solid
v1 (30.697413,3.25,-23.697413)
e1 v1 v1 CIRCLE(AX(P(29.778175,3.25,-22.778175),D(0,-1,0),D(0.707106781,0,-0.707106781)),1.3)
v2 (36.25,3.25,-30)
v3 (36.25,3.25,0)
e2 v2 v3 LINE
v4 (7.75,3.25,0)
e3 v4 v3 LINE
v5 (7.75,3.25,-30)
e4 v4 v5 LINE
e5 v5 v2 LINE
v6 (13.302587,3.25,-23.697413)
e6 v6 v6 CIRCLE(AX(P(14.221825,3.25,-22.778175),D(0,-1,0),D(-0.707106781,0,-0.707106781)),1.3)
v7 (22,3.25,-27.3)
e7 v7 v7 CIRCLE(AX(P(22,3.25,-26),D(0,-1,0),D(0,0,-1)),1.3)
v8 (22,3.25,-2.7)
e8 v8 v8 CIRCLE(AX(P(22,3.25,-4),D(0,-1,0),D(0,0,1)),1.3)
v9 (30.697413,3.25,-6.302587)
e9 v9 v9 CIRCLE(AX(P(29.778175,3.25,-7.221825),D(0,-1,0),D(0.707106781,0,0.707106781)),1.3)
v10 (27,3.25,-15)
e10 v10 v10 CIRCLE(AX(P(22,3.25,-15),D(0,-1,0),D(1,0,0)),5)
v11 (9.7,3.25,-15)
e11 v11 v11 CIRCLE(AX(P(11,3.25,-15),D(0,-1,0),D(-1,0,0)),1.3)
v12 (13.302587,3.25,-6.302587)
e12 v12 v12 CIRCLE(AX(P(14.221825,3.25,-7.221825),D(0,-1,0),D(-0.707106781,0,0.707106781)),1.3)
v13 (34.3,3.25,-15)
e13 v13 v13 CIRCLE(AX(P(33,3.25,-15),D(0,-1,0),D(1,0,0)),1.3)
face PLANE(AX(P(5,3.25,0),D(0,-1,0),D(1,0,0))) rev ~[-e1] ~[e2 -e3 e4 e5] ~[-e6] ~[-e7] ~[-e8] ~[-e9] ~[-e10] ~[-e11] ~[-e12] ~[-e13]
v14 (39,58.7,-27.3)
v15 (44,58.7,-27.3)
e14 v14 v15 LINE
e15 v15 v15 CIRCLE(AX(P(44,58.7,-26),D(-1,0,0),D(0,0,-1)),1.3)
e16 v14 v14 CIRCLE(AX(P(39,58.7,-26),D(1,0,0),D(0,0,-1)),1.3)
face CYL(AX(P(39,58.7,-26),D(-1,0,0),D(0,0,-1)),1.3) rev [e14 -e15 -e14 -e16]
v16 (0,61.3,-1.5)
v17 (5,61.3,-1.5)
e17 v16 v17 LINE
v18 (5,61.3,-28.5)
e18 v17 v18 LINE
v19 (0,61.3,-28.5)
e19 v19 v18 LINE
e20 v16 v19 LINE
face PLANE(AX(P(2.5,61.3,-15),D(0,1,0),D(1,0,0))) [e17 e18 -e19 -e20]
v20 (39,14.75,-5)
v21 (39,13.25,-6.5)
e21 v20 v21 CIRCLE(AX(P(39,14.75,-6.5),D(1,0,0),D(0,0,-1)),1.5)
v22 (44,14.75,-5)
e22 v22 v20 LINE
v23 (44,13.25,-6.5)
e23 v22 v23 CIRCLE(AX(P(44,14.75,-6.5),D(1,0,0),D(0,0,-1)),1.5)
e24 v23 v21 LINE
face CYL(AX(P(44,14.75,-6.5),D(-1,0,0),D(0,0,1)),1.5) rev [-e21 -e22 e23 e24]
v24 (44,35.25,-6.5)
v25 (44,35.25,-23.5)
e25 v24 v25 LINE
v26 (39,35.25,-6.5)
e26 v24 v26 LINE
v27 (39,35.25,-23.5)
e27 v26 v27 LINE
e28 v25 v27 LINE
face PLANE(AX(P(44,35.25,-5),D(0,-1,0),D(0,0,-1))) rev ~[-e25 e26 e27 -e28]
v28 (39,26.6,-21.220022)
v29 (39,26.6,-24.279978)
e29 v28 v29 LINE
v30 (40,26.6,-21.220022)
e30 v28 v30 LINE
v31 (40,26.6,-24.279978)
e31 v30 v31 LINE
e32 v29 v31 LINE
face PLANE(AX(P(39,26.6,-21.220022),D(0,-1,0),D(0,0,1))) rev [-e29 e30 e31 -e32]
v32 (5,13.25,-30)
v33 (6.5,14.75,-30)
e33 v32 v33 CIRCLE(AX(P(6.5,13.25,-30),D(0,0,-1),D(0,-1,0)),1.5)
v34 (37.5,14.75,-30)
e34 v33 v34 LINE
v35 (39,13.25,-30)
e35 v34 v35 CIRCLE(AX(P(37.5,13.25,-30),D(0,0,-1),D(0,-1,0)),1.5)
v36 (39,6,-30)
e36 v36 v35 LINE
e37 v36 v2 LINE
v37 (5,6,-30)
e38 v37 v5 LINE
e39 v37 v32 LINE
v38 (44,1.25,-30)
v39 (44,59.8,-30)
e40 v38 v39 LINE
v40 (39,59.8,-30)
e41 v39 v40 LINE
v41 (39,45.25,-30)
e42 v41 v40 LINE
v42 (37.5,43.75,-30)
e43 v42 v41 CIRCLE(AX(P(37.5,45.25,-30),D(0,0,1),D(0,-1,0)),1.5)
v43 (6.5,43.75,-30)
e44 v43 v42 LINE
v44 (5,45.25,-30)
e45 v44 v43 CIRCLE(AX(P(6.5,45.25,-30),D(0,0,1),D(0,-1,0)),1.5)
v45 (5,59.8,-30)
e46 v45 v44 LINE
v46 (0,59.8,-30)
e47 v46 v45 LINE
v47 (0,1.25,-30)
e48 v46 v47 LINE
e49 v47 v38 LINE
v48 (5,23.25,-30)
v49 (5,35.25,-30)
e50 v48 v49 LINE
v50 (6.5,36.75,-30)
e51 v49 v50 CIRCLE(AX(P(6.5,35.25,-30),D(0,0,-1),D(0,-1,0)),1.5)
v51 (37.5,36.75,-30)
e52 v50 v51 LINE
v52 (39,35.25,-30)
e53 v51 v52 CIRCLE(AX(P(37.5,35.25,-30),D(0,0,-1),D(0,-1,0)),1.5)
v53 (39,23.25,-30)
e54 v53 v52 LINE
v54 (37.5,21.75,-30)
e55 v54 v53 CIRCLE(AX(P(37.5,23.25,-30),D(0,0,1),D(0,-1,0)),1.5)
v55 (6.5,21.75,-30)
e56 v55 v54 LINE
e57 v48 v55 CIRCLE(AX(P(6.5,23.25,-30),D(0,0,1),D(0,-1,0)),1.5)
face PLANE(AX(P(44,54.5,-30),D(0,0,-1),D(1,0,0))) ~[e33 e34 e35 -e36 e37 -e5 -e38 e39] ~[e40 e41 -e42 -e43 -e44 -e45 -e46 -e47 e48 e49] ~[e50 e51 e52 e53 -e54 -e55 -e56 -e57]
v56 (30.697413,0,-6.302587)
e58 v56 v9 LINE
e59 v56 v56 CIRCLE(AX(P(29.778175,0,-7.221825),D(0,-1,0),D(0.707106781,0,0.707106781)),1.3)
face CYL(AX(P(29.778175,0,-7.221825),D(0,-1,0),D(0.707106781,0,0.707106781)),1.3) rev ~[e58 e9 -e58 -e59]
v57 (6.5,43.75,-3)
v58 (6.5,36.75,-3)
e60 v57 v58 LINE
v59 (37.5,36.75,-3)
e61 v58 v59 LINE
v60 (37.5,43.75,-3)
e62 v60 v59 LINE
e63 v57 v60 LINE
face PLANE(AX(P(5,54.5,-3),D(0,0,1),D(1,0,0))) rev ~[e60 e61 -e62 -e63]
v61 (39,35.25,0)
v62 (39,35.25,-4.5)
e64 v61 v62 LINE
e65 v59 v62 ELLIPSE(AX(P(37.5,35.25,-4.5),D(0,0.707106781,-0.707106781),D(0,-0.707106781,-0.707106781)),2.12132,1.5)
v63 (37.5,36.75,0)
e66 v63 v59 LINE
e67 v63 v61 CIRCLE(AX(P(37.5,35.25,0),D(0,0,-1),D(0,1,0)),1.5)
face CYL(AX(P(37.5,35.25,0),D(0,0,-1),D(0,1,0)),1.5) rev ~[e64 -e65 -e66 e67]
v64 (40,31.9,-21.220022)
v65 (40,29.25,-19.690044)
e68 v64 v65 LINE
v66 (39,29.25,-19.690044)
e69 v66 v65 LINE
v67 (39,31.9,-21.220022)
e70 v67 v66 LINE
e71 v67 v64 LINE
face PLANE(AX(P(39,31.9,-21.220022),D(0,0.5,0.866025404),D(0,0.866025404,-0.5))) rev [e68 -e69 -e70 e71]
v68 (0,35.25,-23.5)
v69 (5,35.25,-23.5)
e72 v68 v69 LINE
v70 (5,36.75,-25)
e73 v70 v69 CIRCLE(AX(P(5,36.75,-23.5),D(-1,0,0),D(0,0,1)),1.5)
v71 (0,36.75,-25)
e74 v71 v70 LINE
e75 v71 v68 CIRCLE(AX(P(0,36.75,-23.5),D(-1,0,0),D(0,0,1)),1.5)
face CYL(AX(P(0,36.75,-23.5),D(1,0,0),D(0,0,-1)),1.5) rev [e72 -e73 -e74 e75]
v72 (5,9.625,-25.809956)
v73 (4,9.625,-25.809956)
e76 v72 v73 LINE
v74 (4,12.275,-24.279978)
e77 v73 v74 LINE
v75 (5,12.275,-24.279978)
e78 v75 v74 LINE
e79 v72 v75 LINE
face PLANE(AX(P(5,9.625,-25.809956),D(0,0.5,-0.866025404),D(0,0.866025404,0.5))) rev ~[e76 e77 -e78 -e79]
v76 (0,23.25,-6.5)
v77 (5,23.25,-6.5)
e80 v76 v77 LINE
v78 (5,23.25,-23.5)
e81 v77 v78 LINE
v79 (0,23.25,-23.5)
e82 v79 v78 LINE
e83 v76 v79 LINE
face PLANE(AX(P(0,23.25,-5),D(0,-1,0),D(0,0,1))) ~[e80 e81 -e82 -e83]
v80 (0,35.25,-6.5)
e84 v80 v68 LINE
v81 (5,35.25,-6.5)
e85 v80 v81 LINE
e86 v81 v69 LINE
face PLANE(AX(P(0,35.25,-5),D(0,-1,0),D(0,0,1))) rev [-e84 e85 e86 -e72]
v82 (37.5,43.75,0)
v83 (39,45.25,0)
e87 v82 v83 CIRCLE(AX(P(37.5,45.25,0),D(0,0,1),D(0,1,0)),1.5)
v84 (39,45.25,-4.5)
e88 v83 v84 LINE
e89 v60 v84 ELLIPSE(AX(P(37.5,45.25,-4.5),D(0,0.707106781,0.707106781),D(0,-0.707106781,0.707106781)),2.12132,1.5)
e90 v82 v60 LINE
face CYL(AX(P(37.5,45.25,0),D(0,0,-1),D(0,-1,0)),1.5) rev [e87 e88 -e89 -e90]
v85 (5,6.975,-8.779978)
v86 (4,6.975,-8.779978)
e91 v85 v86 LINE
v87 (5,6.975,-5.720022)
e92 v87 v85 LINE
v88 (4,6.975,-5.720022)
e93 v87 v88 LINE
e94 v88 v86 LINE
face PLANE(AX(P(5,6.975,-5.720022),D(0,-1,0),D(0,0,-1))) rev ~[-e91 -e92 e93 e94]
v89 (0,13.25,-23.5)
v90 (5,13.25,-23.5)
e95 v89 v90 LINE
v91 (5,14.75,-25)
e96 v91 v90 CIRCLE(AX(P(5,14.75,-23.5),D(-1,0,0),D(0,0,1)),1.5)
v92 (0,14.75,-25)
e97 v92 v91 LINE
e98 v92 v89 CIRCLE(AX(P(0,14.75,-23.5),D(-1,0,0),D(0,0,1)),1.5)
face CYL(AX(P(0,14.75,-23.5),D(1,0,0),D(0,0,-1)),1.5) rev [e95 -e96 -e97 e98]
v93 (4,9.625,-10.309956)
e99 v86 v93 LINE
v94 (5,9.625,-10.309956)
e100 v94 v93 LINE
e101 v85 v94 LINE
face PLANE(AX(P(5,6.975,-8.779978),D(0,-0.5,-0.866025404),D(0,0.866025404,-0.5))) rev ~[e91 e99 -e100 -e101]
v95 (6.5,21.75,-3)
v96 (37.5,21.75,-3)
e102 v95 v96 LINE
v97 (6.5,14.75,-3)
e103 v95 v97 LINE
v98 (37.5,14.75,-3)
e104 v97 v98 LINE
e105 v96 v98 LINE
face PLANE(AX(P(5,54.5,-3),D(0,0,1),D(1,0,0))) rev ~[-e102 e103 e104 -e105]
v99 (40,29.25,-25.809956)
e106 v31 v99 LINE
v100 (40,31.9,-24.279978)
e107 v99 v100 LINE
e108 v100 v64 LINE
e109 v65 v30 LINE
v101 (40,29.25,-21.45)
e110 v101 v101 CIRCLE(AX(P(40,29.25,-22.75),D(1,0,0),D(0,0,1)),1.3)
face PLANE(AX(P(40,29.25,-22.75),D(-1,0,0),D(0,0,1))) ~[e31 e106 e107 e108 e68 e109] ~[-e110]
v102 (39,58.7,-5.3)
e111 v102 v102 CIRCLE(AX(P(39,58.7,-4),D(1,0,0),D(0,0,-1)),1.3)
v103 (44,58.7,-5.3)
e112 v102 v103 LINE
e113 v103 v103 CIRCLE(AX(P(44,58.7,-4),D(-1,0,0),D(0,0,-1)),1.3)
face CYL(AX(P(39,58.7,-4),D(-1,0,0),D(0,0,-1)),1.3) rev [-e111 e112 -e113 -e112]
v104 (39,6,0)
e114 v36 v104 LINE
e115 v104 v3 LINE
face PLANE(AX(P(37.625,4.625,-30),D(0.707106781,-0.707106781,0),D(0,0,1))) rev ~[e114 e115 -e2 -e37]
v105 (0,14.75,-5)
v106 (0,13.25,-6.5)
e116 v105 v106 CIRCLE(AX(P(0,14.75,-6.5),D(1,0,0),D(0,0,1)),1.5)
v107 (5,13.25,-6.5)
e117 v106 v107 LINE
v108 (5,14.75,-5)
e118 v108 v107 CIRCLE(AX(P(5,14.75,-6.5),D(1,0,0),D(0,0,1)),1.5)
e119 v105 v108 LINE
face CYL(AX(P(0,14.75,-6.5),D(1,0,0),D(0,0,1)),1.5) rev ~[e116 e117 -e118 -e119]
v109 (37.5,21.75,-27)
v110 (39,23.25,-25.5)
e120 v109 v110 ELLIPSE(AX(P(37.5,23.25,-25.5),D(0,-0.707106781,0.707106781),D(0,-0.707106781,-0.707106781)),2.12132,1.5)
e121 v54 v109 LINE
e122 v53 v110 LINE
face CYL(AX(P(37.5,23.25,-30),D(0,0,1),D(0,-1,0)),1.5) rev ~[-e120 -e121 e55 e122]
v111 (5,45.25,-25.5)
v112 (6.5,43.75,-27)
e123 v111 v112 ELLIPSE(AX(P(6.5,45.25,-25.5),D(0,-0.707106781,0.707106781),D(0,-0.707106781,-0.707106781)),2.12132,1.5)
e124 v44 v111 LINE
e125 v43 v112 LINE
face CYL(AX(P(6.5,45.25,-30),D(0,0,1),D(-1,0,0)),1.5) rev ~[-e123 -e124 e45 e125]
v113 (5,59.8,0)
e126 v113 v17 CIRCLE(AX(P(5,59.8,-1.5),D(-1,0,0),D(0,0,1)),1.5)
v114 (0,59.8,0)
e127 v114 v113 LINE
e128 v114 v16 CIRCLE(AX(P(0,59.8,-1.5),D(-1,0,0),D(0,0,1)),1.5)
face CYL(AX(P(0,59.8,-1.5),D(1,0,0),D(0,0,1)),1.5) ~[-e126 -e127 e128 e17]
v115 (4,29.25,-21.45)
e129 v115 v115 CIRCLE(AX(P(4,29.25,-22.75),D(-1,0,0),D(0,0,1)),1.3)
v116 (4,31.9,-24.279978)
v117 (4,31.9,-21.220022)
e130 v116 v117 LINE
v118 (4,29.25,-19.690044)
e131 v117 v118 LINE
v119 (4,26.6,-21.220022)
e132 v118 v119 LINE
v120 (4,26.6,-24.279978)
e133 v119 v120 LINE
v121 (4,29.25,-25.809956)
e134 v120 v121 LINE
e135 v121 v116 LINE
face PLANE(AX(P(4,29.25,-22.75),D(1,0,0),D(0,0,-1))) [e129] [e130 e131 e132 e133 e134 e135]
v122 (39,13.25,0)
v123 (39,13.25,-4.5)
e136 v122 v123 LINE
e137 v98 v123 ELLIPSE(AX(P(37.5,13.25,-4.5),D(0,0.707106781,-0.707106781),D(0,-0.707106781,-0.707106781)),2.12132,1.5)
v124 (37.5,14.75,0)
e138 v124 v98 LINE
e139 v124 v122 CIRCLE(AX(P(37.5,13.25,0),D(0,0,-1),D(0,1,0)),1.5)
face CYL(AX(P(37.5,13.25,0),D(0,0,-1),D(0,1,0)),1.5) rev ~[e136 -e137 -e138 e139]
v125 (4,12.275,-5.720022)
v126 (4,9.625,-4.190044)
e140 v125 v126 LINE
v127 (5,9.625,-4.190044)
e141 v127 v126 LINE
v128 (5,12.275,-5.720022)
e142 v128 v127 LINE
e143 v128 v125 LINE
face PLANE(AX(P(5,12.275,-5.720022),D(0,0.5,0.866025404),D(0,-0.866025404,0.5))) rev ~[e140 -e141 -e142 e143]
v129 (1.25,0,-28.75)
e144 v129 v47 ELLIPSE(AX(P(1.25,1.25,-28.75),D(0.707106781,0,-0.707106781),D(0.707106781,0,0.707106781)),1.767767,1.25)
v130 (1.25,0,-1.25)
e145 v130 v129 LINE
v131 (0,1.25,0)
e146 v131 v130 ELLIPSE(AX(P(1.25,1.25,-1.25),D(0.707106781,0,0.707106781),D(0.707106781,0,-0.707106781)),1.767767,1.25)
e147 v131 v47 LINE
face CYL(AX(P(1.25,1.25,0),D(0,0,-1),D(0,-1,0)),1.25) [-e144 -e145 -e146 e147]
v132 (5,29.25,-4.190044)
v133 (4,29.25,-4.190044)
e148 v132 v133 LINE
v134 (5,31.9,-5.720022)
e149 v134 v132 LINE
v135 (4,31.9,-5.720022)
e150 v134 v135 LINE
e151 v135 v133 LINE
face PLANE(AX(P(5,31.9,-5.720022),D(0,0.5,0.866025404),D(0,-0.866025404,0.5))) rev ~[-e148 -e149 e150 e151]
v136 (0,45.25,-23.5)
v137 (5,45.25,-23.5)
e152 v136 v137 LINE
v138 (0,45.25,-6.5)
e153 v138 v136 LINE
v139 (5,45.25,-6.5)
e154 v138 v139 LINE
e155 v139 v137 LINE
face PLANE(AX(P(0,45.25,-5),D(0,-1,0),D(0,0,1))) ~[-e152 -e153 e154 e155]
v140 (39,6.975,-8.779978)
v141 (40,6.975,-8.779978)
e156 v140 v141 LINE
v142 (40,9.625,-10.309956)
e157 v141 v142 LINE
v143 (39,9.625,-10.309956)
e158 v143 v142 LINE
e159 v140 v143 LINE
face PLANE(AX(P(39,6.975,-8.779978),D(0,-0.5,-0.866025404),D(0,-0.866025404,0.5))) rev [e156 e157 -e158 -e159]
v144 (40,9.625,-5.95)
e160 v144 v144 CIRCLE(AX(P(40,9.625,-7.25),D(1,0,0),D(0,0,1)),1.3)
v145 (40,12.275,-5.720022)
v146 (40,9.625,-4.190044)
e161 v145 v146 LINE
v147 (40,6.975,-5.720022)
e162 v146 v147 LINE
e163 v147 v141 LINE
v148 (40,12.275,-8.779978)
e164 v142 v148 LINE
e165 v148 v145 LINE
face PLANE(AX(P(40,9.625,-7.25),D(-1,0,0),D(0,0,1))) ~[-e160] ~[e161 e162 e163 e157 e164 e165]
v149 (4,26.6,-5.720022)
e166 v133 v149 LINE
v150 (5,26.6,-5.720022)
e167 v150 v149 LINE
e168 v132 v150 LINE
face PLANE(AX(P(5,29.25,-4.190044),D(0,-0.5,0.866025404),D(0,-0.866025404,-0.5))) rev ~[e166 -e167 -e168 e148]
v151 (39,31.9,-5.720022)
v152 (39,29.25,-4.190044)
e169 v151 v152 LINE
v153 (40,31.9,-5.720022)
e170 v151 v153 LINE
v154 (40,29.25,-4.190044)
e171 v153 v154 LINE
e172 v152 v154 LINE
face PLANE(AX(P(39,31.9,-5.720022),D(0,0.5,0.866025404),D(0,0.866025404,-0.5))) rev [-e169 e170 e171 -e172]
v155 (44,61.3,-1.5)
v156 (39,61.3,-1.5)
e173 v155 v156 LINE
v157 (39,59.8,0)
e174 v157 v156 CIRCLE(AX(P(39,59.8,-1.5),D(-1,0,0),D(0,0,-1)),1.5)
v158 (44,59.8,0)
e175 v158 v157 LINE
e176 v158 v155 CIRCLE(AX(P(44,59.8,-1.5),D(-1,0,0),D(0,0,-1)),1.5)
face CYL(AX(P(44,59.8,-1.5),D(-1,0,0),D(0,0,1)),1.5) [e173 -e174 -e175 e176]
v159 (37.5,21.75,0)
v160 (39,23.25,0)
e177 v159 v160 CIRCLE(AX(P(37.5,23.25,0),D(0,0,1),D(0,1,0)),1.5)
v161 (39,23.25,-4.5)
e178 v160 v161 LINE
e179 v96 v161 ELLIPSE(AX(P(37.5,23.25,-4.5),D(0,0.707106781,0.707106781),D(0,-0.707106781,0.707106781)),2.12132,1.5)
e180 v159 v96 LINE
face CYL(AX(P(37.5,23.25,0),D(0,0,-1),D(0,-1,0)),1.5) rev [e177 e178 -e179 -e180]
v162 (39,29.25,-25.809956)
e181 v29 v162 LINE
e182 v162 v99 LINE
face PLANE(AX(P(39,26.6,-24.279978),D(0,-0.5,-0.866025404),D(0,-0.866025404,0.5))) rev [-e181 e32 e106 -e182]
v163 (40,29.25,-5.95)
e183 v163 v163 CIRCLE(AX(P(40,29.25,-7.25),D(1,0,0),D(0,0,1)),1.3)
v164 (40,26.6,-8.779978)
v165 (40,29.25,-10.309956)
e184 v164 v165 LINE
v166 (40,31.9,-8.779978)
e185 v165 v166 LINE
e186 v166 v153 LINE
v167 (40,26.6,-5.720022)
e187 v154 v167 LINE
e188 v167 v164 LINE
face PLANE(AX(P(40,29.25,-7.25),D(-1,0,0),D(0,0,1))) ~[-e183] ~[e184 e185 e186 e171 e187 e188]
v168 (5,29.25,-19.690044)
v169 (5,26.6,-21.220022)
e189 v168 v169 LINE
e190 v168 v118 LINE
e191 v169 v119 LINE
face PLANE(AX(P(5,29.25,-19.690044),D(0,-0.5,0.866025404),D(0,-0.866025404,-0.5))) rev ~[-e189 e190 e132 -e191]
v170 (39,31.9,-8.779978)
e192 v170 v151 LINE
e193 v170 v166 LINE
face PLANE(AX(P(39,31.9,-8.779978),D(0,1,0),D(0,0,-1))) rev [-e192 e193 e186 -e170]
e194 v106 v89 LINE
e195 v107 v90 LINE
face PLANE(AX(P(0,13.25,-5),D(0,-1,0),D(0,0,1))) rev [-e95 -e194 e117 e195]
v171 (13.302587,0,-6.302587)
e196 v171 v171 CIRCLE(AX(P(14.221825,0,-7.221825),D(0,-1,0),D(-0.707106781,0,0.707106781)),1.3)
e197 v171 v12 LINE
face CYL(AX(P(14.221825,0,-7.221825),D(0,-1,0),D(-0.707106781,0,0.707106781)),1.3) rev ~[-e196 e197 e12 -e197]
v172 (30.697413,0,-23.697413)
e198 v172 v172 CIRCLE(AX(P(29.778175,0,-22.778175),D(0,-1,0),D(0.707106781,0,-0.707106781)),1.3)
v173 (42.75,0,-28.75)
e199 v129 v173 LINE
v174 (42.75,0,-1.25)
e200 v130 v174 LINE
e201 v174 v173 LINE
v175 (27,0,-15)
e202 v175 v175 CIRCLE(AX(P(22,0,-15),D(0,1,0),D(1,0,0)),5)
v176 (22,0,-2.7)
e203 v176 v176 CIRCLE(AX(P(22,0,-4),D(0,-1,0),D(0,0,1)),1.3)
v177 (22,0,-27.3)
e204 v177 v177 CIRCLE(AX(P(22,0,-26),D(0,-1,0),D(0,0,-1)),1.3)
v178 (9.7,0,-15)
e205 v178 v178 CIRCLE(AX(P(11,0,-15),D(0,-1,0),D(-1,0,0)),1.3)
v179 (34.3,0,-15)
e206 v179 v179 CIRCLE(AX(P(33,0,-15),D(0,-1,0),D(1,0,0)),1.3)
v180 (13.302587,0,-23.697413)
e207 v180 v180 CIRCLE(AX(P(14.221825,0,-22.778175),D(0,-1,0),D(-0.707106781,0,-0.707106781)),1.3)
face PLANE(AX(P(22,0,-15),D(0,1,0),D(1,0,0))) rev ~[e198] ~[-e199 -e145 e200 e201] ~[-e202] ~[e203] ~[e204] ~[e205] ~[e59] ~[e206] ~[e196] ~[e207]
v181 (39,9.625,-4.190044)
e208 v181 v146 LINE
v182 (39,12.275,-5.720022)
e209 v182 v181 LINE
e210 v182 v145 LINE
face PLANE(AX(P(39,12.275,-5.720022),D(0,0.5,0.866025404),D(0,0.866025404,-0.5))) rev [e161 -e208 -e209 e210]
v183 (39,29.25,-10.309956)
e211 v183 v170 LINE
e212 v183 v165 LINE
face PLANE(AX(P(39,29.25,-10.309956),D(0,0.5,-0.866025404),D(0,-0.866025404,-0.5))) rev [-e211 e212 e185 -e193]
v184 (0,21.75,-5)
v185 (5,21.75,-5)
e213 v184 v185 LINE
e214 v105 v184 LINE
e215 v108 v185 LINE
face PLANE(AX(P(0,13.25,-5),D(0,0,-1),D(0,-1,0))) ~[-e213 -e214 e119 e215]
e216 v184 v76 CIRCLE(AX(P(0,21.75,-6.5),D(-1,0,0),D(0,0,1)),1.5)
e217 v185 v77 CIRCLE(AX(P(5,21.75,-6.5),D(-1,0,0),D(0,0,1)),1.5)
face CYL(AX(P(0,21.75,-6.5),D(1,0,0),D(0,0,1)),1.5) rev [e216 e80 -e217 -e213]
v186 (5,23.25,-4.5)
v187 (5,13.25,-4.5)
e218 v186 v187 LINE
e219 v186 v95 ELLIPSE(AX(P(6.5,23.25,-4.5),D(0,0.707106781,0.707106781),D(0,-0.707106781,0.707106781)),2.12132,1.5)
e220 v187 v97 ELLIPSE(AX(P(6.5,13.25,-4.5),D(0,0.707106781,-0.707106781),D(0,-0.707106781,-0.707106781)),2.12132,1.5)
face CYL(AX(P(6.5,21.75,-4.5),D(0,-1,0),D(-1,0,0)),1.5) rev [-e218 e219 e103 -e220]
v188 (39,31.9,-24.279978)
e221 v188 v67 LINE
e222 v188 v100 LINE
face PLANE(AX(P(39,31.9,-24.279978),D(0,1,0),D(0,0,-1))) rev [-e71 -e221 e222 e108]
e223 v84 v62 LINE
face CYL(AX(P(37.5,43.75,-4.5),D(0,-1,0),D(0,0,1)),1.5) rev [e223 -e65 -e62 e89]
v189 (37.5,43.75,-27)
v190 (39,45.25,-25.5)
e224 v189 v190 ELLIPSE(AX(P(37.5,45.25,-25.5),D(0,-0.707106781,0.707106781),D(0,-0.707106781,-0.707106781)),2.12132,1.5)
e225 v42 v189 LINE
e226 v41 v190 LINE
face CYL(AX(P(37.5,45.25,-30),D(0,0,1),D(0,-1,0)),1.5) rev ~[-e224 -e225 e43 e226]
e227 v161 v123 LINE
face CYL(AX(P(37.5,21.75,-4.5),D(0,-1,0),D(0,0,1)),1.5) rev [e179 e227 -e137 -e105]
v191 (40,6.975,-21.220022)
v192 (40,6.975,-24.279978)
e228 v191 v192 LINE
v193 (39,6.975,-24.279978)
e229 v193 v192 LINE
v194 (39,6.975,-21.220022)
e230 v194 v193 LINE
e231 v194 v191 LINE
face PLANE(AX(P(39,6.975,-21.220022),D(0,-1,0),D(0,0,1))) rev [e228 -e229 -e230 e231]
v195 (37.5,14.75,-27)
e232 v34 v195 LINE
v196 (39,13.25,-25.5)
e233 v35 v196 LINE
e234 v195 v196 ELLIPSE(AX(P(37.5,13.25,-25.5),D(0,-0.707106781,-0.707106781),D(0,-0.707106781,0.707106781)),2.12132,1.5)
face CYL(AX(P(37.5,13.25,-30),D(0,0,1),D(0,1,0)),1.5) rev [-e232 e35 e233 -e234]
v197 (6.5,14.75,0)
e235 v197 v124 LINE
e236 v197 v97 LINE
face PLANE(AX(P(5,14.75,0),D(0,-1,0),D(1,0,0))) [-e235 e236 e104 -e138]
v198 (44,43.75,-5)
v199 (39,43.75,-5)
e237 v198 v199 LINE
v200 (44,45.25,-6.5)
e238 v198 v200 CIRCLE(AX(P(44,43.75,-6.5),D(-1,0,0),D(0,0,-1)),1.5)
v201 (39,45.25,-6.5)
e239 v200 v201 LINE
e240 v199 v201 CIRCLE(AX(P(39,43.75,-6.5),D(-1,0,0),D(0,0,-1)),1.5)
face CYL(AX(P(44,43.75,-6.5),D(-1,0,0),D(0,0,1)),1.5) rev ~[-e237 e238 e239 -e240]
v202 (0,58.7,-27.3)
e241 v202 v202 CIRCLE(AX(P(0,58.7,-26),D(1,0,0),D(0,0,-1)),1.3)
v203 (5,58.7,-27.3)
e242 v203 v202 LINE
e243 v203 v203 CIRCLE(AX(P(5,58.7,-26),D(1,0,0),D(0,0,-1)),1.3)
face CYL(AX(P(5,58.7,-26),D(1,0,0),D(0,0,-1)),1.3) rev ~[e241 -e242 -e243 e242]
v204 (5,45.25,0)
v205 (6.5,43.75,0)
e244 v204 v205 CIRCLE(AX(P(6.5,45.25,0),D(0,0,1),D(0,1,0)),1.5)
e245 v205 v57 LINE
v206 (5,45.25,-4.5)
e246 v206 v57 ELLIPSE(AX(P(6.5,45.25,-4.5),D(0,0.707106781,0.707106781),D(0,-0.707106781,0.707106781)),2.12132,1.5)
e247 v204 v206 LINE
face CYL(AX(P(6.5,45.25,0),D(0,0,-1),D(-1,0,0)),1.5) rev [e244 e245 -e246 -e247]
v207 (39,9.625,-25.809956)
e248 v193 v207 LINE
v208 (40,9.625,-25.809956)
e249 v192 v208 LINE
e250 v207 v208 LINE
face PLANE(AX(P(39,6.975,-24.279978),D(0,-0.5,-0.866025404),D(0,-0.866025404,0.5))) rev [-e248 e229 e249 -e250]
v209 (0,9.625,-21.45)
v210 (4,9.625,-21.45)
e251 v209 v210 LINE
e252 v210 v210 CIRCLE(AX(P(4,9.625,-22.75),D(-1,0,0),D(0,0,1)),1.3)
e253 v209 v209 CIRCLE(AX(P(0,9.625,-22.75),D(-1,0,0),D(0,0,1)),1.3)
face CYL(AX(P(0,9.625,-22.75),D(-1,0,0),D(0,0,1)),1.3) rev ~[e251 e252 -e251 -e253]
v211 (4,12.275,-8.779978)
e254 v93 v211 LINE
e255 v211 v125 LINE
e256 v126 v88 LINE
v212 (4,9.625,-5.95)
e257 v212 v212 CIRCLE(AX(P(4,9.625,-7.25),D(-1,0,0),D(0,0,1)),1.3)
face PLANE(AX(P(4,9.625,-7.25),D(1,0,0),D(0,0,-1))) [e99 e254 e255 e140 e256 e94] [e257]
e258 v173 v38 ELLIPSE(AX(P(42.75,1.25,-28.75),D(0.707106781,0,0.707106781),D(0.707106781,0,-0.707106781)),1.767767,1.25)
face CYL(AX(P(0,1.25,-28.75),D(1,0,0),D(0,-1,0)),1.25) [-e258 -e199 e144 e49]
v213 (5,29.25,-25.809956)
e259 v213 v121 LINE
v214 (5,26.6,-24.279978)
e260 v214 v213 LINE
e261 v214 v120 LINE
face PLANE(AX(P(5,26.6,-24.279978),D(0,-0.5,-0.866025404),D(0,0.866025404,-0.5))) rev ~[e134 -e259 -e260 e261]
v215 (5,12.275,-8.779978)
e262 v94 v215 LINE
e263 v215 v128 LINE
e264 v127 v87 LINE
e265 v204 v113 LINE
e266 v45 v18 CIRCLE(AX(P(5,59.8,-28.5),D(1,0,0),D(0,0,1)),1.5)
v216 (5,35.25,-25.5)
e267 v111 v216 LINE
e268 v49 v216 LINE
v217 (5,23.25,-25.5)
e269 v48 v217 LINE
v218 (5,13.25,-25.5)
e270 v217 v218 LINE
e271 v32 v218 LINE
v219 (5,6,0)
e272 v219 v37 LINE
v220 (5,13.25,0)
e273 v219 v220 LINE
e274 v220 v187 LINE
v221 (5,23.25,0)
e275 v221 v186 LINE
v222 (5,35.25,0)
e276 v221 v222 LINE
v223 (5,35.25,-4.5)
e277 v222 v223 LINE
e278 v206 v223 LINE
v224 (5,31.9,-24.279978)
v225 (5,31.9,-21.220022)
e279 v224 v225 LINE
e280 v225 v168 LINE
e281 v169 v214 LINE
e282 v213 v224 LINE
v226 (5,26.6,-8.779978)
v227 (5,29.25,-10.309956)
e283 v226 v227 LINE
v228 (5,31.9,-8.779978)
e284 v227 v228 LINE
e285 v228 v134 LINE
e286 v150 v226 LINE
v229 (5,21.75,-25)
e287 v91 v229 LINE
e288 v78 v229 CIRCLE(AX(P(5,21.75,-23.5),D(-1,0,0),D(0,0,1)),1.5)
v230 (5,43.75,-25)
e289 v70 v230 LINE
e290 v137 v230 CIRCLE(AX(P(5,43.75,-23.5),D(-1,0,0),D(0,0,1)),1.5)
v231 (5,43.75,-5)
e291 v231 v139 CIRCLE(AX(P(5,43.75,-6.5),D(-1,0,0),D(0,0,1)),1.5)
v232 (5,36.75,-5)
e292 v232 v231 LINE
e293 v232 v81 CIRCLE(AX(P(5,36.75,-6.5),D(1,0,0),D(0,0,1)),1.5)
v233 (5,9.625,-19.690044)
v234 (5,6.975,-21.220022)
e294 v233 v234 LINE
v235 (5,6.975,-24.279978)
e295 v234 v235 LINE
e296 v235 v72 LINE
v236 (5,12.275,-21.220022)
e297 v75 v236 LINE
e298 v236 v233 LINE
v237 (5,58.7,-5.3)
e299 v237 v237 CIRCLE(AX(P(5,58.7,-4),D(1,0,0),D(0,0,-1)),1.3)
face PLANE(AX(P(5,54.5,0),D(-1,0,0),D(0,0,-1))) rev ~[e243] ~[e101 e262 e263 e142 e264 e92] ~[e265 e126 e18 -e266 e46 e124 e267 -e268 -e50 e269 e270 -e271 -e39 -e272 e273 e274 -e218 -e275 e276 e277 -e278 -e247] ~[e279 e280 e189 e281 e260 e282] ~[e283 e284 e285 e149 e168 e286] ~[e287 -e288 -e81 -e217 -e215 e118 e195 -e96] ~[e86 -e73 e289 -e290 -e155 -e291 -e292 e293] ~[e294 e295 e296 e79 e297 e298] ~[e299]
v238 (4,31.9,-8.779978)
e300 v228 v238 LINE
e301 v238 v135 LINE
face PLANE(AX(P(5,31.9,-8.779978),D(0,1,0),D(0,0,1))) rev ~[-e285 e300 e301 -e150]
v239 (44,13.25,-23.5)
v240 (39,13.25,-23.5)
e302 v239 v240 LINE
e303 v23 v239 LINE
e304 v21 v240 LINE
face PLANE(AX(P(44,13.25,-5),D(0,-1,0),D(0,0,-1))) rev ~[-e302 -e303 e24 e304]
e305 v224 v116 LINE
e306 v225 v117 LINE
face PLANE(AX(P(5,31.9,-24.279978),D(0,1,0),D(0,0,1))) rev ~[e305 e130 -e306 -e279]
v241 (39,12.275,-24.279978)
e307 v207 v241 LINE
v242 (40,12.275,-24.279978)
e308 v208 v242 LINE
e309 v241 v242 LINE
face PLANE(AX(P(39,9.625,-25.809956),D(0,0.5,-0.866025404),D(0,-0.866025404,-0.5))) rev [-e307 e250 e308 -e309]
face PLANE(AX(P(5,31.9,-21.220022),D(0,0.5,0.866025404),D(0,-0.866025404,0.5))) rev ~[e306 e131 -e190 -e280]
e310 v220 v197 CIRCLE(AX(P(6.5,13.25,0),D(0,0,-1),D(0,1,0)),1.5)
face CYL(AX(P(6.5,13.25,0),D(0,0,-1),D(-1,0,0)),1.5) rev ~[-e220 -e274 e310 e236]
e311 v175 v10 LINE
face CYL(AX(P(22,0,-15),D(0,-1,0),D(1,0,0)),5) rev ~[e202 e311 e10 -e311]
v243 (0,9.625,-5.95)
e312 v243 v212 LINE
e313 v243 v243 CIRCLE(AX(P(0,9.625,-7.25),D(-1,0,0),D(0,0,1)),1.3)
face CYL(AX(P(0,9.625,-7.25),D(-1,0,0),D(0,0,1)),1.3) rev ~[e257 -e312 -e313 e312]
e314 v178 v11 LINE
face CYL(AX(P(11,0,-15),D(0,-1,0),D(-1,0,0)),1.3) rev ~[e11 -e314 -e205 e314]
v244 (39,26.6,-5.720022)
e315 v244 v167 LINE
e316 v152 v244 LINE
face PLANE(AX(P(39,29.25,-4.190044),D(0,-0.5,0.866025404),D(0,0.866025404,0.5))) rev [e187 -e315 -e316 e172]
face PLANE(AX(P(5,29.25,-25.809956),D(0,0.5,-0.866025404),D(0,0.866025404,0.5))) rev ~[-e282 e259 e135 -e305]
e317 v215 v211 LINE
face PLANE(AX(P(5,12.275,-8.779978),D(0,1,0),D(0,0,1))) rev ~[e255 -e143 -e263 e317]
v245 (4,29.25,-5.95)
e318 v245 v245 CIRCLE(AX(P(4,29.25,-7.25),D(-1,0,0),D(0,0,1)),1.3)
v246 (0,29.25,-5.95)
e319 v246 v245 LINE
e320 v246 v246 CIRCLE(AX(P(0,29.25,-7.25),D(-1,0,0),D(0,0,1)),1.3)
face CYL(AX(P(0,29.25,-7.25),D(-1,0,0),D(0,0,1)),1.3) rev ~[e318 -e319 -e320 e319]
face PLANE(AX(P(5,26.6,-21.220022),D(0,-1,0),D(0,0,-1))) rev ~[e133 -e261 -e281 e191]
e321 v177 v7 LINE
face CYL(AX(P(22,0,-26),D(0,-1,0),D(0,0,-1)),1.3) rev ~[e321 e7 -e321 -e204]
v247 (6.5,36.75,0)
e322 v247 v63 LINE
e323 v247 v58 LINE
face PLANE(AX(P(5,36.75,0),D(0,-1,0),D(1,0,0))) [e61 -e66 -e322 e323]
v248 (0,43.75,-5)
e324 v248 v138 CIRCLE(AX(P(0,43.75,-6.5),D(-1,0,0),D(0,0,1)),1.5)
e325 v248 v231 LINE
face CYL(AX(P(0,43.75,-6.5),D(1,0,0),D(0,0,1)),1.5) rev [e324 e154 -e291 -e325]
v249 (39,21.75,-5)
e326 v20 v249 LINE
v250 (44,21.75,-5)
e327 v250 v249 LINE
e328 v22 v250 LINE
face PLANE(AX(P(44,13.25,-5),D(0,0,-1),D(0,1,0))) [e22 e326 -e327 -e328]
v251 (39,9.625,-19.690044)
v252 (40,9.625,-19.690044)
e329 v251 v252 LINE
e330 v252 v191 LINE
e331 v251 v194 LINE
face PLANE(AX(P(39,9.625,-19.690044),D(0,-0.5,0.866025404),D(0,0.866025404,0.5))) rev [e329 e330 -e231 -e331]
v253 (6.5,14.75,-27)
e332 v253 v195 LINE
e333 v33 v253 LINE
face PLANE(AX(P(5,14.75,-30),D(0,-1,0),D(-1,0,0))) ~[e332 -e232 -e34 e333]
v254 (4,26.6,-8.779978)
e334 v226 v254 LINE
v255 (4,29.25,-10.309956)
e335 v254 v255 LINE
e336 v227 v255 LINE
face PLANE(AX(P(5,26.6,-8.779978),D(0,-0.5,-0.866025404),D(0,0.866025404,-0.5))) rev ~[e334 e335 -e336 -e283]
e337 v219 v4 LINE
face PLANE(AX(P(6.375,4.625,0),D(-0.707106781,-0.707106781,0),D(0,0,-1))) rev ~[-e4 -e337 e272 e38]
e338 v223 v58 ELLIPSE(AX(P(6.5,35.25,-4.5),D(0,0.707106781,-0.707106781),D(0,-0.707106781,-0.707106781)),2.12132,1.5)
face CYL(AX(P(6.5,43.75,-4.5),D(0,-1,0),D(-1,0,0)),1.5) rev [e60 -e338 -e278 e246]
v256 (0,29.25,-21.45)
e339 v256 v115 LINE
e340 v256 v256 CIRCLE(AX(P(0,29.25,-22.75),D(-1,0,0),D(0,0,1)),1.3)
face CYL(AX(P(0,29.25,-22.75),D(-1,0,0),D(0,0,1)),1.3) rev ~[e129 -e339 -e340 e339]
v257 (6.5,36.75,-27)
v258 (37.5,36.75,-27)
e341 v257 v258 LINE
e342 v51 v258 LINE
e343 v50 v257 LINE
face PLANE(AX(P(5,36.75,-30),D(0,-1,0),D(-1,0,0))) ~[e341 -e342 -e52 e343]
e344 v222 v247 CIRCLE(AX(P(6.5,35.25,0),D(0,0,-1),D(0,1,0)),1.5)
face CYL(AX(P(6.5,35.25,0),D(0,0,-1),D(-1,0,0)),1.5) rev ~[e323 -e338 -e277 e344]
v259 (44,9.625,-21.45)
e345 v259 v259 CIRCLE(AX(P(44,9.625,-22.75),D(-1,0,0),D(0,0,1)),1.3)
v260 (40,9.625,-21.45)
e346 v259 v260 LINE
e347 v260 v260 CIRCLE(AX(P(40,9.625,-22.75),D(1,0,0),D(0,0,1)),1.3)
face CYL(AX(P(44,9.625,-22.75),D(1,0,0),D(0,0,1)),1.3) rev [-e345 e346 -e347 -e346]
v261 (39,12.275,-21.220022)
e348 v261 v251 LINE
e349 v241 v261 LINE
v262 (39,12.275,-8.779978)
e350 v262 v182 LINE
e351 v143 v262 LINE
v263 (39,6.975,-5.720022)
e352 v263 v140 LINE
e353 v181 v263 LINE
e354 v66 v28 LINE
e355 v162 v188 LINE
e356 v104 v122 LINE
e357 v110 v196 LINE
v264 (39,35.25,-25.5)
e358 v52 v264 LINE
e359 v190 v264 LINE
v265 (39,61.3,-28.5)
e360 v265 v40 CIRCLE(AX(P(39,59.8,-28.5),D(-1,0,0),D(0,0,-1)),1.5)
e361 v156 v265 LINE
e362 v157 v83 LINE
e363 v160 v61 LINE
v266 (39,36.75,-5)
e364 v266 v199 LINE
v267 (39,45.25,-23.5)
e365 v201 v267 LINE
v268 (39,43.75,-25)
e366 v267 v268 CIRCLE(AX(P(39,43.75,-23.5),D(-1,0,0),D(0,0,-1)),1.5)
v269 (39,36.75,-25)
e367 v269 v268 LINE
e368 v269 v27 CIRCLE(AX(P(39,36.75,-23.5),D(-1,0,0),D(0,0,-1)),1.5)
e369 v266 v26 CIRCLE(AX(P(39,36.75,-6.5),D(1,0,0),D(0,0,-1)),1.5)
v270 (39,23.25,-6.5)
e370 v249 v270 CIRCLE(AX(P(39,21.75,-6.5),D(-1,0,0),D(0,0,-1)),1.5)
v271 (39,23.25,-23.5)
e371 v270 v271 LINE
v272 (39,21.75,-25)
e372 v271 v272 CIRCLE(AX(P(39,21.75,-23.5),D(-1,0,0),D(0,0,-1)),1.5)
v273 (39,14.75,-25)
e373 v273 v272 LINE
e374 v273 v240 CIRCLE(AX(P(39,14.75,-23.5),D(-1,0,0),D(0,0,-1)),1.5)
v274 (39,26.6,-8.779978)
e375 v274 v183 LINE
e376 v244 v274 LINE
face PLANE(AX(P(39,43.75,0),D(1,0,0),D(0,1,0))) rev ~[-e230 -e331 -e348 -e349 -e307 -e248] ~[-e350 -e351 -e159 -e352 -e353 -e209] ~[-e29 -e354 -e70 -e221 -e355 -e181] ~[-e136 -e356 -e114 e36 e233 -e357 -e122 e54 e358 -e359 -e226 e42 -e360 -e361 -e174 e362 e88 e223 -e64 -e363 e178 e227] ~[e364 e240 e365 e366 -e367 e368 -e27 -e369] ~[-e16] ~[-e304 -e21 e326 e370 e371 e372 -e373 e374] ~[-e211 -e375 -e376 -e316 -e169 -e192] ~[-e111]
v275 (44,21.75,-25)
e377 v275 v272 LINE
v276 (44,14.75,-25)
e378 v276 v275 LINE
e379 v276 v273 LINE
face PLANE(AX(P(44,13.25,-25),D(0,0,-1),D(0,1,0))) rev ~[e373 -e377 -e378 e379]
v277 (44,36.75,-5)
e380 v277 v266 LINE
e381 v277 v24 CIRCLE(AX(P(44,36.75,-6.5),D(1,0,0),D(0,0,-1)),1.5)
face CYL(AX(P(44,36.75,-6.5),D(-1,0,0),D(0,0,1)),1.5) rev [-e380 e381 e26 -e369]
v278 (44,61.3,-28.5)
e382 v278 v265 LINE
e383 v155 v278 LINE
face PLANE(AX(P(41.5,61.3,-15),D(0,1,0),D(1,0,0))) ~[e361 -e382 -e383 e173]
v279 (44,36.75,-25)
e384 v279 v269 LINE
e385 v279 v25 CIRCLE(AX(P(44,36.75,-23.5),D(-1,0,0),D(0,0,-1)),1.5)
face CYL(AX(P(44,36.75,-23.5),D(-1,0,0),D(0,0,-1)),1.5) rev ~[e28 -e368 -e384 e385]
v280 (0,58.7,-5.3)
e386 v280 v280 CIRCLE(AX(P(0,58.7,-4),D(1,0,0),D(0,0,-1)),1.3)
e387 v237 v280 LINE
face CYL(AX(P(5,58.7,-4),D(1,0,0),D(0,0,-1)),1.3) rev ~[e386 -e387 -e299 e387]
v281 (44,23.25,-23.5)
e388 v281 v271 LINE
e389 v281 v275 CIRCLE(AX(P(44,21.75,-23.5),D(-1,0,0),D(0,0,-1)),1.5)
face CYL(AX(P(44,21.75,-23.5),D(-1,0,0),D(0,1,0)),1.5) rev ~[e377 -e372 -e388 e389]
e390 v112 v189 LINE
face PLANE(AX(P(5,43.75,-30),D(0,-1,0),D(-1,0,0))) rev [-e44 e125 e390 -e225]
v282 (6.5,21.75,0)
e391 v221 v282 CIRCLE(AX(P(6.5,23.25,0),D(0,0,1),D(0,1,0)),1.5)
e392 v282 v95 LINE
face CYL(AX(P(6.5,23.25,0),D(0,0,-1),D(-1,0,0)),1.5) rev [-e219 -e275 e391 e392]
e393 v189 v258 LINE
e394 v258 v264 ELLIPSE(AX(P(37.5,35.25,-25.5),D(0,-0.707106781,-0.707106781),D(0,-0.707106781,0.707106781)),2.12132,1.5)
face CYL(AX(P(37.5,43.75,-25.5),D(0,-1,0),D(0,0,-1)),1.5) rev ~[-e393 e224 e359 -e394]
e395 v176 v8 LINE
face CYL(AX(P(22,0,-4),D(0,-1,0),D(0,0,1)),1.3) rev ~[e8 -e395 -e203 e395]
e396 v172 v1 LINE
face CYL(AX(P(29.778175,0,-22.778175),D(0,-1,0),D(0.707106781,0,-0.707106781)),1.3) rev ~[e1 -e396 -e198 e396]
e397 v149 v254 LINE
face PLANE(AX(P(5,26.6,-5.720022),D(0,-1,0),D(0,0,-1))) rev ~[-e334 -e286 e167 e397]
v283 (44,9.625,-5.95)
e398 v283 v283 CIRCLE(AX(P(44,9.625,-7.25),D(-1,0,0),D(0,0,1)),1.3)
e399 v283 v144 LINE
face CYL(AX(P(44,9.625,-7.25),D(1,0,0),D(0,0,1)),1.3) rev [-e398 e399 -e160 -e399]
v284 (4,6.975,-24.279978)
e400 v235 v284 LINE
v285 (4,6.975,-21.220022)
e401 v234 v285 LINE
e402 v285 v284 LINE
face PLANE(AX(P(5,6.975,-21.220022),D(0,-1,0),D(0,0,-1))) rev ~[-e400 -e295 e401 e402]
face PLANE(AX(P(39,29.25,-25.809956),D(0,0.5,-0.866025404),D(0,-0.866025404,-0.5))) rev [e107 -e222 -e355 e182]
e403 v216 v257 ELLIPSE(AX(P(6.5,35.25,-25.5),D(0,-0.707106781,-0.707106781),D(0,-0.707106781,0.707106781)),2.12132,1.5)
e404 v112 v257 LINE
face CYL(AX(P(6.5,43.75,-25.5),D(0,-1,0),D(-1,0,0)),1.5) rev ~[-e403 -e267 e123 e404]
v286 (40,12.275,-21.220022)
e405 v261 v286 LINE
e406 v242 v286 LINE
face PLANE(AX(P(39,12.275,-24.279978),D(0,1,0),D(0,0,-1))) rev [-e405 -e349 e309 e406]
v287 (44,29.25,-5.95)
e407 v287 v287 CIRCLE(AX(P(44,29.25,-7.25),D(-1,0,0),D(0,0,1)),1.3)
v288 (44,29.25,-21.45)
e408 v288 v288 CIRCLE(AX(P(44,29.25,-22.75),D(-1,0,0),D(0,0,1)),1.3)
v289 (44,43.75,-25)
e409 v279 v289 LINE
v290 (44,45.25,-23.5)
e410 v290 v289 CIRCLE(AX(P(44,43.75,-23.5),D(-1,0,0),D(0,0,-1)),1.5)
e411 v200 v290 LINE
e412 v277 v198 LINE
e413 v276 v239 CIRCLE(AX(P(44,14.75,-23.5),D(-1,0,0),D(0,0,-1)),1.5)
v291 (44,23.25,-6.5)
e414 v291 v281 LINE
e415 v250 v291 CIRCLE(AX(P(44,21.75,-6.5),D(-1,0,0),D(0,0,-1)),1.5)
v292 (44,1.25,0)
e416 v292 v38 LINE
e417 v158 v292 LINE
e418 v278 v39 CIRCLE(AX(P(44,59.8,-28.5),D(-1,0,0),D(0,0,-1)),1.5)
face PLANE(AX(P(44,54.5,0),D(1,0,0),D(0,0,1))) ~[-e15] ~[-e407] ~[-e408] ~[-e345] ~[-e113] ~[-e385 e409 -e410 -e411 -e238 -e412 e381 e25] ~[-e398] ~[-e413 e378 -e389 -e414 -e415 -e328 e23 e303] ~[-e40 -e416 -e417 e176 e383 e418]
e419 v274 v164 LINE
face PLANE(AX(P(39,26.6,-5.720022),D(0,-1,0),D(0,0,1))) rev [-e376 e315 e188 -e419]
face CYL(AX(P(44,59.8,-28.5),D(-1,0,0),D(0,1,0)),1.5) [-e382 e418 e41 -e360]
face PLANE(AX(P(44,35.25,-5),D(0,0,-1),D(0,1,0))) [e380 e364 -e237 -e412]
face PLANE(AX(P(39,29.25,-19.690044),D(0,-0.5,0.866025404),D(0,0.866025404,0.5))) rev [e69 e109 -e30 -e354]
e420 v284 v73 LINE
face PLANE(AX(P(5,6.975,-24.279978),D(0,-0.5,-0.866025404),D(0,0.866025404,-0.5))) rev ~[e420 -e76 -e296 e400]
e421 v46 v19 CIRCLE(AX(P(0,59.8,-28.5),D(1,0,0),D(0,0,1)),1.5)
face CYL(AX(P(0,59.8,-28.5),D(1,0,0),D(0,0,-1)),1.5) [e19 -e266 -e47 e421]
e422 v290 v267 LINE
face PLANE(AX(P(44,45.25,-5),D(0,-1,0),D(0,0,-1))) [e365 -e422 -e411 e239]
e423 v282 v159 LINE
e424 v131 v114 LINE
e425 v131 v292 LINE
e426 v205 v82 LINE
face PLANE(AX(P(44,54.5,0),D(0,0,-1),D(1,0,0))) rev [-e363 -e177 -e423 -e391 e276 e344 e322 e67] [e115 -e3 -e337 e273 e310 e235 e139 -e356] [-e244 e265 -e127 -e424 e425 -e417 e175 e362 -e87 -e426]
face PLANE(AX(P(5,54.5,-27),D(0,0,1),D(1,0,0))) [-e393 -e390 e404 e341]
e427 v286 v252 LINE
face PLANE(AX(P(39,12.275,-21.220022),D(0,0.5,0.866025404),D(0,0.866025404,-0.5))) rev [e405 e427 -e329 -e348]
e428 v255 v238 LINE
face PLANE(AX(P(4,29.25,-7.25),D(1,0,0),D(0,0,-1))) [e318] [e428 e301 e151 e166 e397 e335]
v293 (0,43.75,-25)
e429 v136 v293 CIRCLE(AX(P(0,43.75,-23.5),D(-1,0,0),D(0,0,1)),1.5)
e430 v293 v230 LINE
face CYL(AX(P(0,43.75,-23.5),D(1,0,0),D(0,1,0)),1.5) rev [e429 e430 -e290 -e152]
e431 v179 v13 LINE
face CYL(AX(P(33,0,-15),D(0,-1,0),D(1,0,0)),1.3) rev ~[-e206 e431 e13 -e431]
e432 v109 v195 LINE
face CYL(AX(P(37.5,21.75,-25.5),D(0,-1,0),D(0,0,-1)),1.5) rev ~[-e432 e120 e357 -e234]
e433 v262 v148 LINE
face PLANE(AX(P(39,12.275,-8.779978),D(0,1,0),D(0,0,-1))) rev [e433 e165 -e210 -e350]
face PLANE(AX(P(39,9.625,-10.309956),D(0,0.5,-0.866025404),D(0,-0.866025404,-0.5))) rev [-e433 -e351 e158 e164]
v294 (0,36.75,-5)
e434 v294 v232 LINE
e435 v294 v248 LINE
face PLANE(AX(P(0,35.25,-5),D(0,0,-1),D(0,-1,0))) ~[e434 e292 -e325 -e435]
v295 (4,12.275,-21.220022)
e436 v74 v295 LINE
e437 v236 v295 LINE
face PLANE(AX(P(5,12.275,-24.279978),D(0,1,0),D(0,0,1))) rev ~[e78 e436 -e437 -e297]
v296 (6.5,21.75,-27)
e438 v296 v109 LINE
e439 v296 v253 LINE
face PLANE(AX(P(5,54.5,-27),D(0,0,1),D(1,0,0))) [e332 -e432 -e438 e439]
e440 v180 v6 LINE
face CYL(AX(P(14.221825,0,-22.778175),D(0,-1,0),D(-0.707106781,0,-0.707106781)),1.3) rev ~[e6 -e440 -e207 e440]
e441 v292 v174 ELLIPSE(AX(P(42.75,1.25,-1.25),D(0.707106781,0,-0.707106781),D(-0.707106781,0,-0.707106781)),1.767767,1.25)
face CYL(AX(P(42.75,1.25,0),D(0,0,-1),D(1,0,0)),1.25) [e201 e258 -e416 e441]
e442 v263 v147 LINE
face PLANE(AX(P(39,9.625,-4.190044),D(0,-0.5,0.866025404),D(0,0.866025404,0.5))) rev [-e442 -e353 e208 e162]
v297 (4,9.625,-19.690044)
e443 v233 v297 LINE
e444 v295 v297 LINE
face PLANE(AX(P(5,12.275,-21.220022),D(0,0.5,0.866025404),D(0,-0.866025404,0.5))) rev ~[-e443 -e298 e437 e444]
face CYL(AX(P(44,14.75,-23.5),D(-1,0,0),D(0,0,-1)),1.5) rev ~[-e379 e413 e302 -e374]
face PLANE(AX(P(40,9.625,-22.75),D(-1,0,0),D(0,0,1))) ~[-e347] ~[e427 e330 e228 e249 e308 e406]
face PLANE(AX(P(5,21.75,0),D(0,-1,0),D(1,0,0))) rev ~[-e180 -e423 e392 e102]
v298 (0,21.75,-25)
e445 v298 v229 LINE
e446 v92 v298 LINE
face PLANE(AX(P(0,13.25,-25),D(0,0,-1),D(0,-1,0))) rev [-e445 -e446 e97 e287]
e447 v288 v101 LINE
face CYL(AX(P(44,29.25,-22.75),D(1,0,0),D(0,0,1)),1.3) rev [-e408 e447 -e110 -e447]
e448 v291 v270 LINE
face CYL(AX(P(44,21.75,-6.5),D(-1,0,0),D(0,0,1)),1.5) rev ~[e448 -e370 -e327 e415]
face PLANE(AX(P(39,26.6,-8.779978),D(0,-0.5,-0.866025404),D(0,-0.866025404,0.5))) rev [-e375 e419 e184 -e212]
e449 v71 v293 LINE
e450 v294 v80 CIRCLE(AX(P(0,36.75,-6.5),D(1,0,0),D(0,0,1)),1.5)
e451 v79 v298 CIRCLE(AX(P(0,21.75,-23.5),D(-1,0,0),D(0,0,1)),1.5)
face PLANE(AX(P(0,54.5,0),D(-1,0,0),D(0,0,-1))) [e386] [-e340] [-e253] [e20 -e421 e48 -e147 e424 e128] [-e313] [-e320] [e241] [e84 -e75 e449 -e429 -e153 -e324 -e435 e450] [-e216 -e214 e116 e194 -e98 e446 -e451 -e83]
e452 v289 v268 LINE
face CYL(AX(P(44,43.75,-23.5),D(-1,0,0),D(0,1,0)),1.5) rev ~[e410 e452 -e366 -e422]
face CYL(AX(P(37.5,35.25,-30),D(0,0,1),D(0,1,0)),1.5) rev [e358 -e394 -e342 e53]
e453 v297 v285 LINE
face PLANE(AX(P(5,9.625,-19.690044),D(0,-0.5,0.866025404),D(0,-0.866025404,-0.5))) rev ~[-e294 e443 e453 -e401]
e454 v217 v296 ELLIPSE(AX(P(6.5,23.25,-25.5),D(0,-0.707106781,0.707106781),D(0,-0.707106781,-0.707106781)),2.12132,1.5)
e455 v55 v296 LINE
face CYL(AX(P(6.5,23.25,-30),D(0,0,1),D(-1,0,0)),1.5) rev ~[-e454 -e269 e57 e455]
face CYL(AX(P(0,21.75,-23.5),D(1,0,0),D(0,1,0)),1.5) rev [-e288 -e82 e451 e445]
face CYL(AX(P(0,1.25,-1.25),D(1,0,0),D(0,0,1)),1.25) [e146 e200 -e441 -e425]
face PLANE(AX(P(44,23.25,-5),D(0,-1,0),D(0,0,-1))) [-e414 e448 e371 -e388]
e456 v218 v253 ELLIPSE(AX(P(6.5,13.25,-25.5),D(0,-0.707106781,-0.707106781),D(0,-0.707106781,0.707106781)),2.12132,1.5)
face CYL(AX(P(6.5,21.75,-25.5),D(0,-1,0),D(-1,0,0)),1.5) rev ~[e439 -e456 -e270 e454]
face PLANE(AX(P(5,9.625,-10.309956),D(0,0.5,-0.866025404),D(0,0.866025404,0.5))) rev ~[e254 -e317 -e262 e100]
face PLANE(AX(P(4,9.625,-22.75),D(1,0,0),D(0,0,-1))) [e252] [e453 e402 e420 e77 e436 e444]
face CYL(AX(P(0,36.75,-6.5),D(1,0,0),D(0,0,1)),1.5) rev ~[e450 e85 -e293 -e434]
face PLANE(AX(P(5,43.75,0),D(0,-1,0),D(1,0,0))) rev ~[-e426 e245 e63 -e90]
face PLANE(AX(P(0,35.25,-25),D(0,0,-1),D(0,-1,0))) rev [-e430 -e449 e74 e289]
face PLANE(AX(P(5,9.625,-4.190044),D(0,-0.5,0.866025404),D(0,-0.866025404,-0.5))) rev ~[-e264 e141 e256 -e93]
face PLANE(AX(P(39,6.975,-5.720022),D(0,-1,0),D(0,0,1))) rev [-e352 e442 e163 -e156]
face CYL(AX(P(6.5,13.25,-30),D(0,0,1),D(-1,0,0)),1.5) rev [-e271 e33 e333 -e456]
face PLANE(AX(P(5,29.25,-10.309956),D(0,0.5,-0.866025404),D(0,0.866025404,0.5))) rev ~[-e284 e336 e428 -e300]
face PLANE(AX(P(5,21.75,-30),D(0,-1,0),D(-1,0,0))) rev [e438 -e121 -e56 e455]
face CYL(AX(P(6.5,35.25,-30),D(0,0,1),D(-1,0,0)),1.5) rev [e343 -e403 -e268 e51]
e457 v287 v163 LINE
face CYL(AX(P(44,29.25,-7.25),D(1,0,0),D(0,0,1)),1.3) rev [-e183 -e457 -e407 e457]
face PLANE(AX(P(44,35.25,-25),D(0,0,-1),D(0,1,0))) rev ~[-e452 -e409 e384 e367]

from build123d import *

# Parameters (mm, degrees)
SKETCH1_W            = 44
SKETCH1_H            = 30
BOSS_EXTRUDE1_DEPTH  = 54.5
SKETCH5_W            = 5
SKETCH5_H            = 30
BOSS_EXTRUDE3_DEPTH  = 6.8
SKETCH9_R            = 1.3
CUT_EXTRUDE6_DEPTH   = 6
FILLET1_R            = 1.5
FILLET2_R            = 1.25
SKETCH11_W           = 34
SKETCH11_H           = 24
CUT_EXTRUDE7_DEPTH   = 51.25
SKETCH13_R           = 5
SKETCH13_R_2         = 1.3
CUT_EXTRUDE8_DEPTH   = 3.5
CIRPATTERN1_COUNT    = 8
SKETCH15_W           = 20
SKETCH15_H           = 10
CUT_EXTRUDE10_DEPTH  = 5
FILLET6_R            = 1.5
FILLET6_OF_MIRROR4_R = 1.5
SKETCH16_W           = 34
SKETCH16_H           = 11.5
SKETCH16_H_2         = 10.75
SKETCH16_H_3         = 15
CUT_EXTRUDE11_DEPTH  = 3
CHAMFER1_SIZE        = 2.75
SKETCH18_R           = 1.3
CUT_EXTRUDE12_DEPTH  = 5
FILLET7_R            = 1.5
CUT_EXTRUDE13_DEPTH  = 1


with BuildPart() as part:
    # Sketch1 → Boss-Extrude1 (new body)
    with BuildSketch(Plane(origin=(0, 0, 0), x_dir=(1, 0, 0), z_dir=(0, 1, 0))):
        with Locations((22, 15)):
            Rectangle(SKETCH1_W, SKETCH1_H)
    extrude(amount=BOSS_EXTRUDE1_DEPTH)

    # Sketch5 → Boss-Extrude3 (add)
    with BuildSketch(Plane(origin=(0, 54.5, 0), x_dir=(1, 0, 0), z_dir=(0, 1, 0))):
        with Locations((2.5, 15)):
            Rectangle(SKETCH5_W, SKETCH5_H)
    boss_extrude3 = extrude(amount=BOSS_EXTRUDE3_DEPTH)

    # Sketch9 → Cut-Extrude6 (cut, through all)
    with BuildSketch(Plane(origin=(5, 0, 0), x_dir=(0, 0, -1), z_dir=(1, 0, 0))):
        with Locations((26, 58.7)):
            Circle(SKETCH9_R)
        with Locations((4, 58.7)):
            Circle(SKETCH9_R)
    cut_extrude6 = extrude(amount=-CUT_EXTRUDE6_DEPTH, mode=Mode.SUBTRACT)

    # Mirror2: Boss-Extrude3, Cut-Extrude6 across plane
    add(boss_extrude3.mirror(Plane.ZY.offset(-22)))
    add(cut_extrude6.mirror(Plane.ZY.offset(-22)), mode=Mode.SUBTRACT)

    # Fillet1
    fillet1_edges = [part.edges().sort_by_distance(p)[0] for p in [
        (2.5, 61.3, 0),
        (2.5, 61.3, -30),
        (41.5, 61.3, -30),
        (41.5, 61.3, 0),
    ]]
    fillet(fillet1_edges, radius=FILLET1_R)

    # Fillet2
    fillet2_edges = [part.edges().sort_by_distance(p)[0] for p in [
        (22, 0, -30),
        (44, 0, -15),
        (22, 0, 0),
        (0, 0, -15),
    ]]
    fillet(fillet2_edges, radius=FILLET2_R)

    # Sketch11 → Cut-Extrude7 (cut)
    with BuildSketch(Plane(origin=(0, 54.5, 0), x_dir=(1, 0, 0), z_dir=(0, 1, 0))):
        with Locations((22, 15)):
            Rectangle(SKETCH11_W, SKETCH11_H)
    extrude(amount=-CUT_EXTRUDE7_DEPTH, mode=Mode.SUBTRACT)

    # Sketch13 → Cut-Extrude8 (cut)
    with BuildSketch(Plane.XZ):
        with Locations((22, -15)):
            Circle(SKETCH13_R)
        with Locations((33, -15)):
            Circle(SKETCH13_R_2)
    cut_extrude8 = extrude(amount=-CUT_EXTRUDE8_DEPTH, mode=Mode.SUBTRACT)

    # CirPattern1: Cut-Extrude8 ×8 about axis
    cirpattern1_axis = Axis((22, 0, -15), (0, 1, 0))
    for i in range(1, CIRPATTERN1_COUNT):
        add(cut_extrude8.rotate(cirpattern1_axis, i * 360 / CIRPATTERN1_COUNT), mode=Mode.SUBTRACT)

    # Sketch15 → Cut-Extrude10 (cut)
    with BuildSketch(Plane(origin=(44, 0, 0), x_dir=(0, 0, -1), z_dir=(1, 0, 0))):
        with Locations((15, 18.25)):
            Rectangle(SKETCH15_W, SKETCH15_H)
        with Locations((15, 40.25)):
            Rectangle(SKETCH15_W, SKETCH15_H)
    cut_extrude10 = extrude(amount=-CUT_EXTRUDE10_DEPTH, mode=Mode.SUBTRACT)

    # Fillet6
    fillet6_edges = [part.edges().sort_by_distance(p)[0] for p in [
        (41.5, 23.25, -5),
        (41.5, 13.25, -5),
        (41.5, 13.25, -25),
        (41.5, 23.25, -25),
        (41.5, 45.25, -5),
        (41.5, 35.25, -5),
        (41.5, 35.25, -25),
        (41.5, 45.25, -25),
    ]]
    fillet(fillet6_edges, radius=FILLET6_R)

    # Mirror4: Cut-Extrude10 across plane
    add(cut_extrude10.mirror(Plane.ZY.offset(-22)), mode=Mode.SUBTRACT)

    # Fillet6 of Mirror4
    fillet6_of_mirror4_edges = [part.edges().sort_by_distance(p)[0] for p in [
        (2.5, 23.25, -5),
        (2.5, 13.25, -5),
        (2.5, 13.25, -25),
        (2.5, 23.25, -25),
        (2.5, 45.25, -5),
        (2.5, 35.25, -5),
        (2.5, 35.25, -25),
        (2.5, 45.25, -25),
    ]]
    fillet(fillet6_of_mirror4_edges, radius=FILLET6_OF_MIRROR4_R)

    # Sketch16 → Cut-Extrude11 (cut)
    with BuildSketch(Plane.XY):
        with Locations((22, 9)):
            Rectangle(SKETCH16_W, SKETCH16_H)
        with Locations((22, 49.125)):
            Rectangle(SKETCH16_W, SKETCH16_H_2)
        with Locations((22, 29.25)):
            Rectangle(SKETCH16_W, SKETCH16_H_3)
    cut_extrude11 = extrude(amount=-CUT_EXTRUDE11_DEPTH, mode=Mode.SUBTRACT)

    # Mirror5: Cut-Extrude11 across plane
    add(cut_extrude11.mirror(Plane(origin=(0, 0, -15), x_dir=(1, 0, 0), z_dir=(0, 0, -1))), mode=Mode.SUBTRACT)

    # Chamfer1
    chamfer1_edges = [part.edges().sort_by_distance(p)[0] for p in [
        (39, 3.25, -15),
        (5, 3.25, -15),
    ]]
    chamfer(chamfer1_edges, length=CHAMFER1_SIZE)

    # Sketch18 → Cut-Extrude12 (cut)
    with BuildSketch(Plane.ZY):
        with Locations((-22.75, 29.25)):
            Circle(SKETCH18_R)
        with Locations((-7.25, 29.25)):
            Circle(SKETCH18_R)
        with Locations((-22.75, 9.625)):
            Circle(SKETCH18_R)
        with Locations((-7.25, 9.625)):
            Circle(SKETCH18_R)
    cut_extrude12 = extrude(amount=-CUT_EXTRUDE12_DEPTH, mode=Mode.SUBTRACT)

    # Fillet7
    fillet7_edges = [part.edges().sort_by_distance(p)[0] for p in [
        (5, 18.25, -3),
        (5, 40.25, -3),
        (39, 18.25, -3),
        (39, 40.25, -3),
        (5, 43.75, -1.5),
        (39, 43.75, -1.5),
        (5, 21.75, -1.5),
        (5, 36.75, -1.5),
        (39, 36.75, -1.5),
        (39, 21.75, -1.5),
        (39, 14.75, -1.5),
        (5, 14.75, -1.5),
        (39, 18.25, -27),
        (39, 40.25, -27),
        (5, 18.25, -27),
        (5, 40.25, -27),
        (5, 43.75, -28.5),
        (39, 43.75, -28.5),
        (5, 36.75, -28.5),
        (5, 21.75, -28.5),
        (39, 21.75, -28.5),
        (39, 36.75, -28.5),
        (5, 14.75, -28.5),
        (39, 14.75, -28.5),
    ]]
    fillet(fillet7_edges, radius=FILLET7_R)

    # Sketch19 → Cut-Extrude13 (cut)
    with BuildSketch(Plane(origin=(5, 0, 0), x_dir=(0, 0, -1), z_dir=(1, 0, 0))):
        Polygon((8.779978213, 26.6), (10.309956427, 29.25), (8.779978213, 31.9), (5.720021787, 31.9), (4.190043573, 29.25), (5.720021787, 26.6), align=None)
        Polygon((21.220021787, 26.6), (24.279978213, 26.6), (25.809956427, 29.25), (24.279978213, 31.9), (21.220021787, 31.9), (19.690043573, 29.25), align=None)
        Polygon((5.720021787, 6.975), (8.779978213, 6.975), (10.309956427, 9.625), (8.779978213, 12.275), (5.720021787, 12.275), (4.190043573, 9.625), align=None)
        Polygon((21.220021787, 6.975), (24.279978213, 6.975), (25.809956427, 9.625), (24.279978213, 12.275), (21.220021787, 12.275), (19.690043573, 9.625), align=None)
    cut_extrude13 = extrude(amount=-CUT_EXTRUDE13_DEPTH, mode=Mode.SUBTRACT)

    # Mirror6: Cut-Extrude12, Cut-Extrude13 across plane
    add(cut_extrude12.mirror(Plane.ZY.offset(-22)), mode=Mode.SUBTRACT)
    add(cut_extrude13.mirror(Plane.ZY.offset(-22)), mode=Mode.SUBTRACT)


solid = part.part
